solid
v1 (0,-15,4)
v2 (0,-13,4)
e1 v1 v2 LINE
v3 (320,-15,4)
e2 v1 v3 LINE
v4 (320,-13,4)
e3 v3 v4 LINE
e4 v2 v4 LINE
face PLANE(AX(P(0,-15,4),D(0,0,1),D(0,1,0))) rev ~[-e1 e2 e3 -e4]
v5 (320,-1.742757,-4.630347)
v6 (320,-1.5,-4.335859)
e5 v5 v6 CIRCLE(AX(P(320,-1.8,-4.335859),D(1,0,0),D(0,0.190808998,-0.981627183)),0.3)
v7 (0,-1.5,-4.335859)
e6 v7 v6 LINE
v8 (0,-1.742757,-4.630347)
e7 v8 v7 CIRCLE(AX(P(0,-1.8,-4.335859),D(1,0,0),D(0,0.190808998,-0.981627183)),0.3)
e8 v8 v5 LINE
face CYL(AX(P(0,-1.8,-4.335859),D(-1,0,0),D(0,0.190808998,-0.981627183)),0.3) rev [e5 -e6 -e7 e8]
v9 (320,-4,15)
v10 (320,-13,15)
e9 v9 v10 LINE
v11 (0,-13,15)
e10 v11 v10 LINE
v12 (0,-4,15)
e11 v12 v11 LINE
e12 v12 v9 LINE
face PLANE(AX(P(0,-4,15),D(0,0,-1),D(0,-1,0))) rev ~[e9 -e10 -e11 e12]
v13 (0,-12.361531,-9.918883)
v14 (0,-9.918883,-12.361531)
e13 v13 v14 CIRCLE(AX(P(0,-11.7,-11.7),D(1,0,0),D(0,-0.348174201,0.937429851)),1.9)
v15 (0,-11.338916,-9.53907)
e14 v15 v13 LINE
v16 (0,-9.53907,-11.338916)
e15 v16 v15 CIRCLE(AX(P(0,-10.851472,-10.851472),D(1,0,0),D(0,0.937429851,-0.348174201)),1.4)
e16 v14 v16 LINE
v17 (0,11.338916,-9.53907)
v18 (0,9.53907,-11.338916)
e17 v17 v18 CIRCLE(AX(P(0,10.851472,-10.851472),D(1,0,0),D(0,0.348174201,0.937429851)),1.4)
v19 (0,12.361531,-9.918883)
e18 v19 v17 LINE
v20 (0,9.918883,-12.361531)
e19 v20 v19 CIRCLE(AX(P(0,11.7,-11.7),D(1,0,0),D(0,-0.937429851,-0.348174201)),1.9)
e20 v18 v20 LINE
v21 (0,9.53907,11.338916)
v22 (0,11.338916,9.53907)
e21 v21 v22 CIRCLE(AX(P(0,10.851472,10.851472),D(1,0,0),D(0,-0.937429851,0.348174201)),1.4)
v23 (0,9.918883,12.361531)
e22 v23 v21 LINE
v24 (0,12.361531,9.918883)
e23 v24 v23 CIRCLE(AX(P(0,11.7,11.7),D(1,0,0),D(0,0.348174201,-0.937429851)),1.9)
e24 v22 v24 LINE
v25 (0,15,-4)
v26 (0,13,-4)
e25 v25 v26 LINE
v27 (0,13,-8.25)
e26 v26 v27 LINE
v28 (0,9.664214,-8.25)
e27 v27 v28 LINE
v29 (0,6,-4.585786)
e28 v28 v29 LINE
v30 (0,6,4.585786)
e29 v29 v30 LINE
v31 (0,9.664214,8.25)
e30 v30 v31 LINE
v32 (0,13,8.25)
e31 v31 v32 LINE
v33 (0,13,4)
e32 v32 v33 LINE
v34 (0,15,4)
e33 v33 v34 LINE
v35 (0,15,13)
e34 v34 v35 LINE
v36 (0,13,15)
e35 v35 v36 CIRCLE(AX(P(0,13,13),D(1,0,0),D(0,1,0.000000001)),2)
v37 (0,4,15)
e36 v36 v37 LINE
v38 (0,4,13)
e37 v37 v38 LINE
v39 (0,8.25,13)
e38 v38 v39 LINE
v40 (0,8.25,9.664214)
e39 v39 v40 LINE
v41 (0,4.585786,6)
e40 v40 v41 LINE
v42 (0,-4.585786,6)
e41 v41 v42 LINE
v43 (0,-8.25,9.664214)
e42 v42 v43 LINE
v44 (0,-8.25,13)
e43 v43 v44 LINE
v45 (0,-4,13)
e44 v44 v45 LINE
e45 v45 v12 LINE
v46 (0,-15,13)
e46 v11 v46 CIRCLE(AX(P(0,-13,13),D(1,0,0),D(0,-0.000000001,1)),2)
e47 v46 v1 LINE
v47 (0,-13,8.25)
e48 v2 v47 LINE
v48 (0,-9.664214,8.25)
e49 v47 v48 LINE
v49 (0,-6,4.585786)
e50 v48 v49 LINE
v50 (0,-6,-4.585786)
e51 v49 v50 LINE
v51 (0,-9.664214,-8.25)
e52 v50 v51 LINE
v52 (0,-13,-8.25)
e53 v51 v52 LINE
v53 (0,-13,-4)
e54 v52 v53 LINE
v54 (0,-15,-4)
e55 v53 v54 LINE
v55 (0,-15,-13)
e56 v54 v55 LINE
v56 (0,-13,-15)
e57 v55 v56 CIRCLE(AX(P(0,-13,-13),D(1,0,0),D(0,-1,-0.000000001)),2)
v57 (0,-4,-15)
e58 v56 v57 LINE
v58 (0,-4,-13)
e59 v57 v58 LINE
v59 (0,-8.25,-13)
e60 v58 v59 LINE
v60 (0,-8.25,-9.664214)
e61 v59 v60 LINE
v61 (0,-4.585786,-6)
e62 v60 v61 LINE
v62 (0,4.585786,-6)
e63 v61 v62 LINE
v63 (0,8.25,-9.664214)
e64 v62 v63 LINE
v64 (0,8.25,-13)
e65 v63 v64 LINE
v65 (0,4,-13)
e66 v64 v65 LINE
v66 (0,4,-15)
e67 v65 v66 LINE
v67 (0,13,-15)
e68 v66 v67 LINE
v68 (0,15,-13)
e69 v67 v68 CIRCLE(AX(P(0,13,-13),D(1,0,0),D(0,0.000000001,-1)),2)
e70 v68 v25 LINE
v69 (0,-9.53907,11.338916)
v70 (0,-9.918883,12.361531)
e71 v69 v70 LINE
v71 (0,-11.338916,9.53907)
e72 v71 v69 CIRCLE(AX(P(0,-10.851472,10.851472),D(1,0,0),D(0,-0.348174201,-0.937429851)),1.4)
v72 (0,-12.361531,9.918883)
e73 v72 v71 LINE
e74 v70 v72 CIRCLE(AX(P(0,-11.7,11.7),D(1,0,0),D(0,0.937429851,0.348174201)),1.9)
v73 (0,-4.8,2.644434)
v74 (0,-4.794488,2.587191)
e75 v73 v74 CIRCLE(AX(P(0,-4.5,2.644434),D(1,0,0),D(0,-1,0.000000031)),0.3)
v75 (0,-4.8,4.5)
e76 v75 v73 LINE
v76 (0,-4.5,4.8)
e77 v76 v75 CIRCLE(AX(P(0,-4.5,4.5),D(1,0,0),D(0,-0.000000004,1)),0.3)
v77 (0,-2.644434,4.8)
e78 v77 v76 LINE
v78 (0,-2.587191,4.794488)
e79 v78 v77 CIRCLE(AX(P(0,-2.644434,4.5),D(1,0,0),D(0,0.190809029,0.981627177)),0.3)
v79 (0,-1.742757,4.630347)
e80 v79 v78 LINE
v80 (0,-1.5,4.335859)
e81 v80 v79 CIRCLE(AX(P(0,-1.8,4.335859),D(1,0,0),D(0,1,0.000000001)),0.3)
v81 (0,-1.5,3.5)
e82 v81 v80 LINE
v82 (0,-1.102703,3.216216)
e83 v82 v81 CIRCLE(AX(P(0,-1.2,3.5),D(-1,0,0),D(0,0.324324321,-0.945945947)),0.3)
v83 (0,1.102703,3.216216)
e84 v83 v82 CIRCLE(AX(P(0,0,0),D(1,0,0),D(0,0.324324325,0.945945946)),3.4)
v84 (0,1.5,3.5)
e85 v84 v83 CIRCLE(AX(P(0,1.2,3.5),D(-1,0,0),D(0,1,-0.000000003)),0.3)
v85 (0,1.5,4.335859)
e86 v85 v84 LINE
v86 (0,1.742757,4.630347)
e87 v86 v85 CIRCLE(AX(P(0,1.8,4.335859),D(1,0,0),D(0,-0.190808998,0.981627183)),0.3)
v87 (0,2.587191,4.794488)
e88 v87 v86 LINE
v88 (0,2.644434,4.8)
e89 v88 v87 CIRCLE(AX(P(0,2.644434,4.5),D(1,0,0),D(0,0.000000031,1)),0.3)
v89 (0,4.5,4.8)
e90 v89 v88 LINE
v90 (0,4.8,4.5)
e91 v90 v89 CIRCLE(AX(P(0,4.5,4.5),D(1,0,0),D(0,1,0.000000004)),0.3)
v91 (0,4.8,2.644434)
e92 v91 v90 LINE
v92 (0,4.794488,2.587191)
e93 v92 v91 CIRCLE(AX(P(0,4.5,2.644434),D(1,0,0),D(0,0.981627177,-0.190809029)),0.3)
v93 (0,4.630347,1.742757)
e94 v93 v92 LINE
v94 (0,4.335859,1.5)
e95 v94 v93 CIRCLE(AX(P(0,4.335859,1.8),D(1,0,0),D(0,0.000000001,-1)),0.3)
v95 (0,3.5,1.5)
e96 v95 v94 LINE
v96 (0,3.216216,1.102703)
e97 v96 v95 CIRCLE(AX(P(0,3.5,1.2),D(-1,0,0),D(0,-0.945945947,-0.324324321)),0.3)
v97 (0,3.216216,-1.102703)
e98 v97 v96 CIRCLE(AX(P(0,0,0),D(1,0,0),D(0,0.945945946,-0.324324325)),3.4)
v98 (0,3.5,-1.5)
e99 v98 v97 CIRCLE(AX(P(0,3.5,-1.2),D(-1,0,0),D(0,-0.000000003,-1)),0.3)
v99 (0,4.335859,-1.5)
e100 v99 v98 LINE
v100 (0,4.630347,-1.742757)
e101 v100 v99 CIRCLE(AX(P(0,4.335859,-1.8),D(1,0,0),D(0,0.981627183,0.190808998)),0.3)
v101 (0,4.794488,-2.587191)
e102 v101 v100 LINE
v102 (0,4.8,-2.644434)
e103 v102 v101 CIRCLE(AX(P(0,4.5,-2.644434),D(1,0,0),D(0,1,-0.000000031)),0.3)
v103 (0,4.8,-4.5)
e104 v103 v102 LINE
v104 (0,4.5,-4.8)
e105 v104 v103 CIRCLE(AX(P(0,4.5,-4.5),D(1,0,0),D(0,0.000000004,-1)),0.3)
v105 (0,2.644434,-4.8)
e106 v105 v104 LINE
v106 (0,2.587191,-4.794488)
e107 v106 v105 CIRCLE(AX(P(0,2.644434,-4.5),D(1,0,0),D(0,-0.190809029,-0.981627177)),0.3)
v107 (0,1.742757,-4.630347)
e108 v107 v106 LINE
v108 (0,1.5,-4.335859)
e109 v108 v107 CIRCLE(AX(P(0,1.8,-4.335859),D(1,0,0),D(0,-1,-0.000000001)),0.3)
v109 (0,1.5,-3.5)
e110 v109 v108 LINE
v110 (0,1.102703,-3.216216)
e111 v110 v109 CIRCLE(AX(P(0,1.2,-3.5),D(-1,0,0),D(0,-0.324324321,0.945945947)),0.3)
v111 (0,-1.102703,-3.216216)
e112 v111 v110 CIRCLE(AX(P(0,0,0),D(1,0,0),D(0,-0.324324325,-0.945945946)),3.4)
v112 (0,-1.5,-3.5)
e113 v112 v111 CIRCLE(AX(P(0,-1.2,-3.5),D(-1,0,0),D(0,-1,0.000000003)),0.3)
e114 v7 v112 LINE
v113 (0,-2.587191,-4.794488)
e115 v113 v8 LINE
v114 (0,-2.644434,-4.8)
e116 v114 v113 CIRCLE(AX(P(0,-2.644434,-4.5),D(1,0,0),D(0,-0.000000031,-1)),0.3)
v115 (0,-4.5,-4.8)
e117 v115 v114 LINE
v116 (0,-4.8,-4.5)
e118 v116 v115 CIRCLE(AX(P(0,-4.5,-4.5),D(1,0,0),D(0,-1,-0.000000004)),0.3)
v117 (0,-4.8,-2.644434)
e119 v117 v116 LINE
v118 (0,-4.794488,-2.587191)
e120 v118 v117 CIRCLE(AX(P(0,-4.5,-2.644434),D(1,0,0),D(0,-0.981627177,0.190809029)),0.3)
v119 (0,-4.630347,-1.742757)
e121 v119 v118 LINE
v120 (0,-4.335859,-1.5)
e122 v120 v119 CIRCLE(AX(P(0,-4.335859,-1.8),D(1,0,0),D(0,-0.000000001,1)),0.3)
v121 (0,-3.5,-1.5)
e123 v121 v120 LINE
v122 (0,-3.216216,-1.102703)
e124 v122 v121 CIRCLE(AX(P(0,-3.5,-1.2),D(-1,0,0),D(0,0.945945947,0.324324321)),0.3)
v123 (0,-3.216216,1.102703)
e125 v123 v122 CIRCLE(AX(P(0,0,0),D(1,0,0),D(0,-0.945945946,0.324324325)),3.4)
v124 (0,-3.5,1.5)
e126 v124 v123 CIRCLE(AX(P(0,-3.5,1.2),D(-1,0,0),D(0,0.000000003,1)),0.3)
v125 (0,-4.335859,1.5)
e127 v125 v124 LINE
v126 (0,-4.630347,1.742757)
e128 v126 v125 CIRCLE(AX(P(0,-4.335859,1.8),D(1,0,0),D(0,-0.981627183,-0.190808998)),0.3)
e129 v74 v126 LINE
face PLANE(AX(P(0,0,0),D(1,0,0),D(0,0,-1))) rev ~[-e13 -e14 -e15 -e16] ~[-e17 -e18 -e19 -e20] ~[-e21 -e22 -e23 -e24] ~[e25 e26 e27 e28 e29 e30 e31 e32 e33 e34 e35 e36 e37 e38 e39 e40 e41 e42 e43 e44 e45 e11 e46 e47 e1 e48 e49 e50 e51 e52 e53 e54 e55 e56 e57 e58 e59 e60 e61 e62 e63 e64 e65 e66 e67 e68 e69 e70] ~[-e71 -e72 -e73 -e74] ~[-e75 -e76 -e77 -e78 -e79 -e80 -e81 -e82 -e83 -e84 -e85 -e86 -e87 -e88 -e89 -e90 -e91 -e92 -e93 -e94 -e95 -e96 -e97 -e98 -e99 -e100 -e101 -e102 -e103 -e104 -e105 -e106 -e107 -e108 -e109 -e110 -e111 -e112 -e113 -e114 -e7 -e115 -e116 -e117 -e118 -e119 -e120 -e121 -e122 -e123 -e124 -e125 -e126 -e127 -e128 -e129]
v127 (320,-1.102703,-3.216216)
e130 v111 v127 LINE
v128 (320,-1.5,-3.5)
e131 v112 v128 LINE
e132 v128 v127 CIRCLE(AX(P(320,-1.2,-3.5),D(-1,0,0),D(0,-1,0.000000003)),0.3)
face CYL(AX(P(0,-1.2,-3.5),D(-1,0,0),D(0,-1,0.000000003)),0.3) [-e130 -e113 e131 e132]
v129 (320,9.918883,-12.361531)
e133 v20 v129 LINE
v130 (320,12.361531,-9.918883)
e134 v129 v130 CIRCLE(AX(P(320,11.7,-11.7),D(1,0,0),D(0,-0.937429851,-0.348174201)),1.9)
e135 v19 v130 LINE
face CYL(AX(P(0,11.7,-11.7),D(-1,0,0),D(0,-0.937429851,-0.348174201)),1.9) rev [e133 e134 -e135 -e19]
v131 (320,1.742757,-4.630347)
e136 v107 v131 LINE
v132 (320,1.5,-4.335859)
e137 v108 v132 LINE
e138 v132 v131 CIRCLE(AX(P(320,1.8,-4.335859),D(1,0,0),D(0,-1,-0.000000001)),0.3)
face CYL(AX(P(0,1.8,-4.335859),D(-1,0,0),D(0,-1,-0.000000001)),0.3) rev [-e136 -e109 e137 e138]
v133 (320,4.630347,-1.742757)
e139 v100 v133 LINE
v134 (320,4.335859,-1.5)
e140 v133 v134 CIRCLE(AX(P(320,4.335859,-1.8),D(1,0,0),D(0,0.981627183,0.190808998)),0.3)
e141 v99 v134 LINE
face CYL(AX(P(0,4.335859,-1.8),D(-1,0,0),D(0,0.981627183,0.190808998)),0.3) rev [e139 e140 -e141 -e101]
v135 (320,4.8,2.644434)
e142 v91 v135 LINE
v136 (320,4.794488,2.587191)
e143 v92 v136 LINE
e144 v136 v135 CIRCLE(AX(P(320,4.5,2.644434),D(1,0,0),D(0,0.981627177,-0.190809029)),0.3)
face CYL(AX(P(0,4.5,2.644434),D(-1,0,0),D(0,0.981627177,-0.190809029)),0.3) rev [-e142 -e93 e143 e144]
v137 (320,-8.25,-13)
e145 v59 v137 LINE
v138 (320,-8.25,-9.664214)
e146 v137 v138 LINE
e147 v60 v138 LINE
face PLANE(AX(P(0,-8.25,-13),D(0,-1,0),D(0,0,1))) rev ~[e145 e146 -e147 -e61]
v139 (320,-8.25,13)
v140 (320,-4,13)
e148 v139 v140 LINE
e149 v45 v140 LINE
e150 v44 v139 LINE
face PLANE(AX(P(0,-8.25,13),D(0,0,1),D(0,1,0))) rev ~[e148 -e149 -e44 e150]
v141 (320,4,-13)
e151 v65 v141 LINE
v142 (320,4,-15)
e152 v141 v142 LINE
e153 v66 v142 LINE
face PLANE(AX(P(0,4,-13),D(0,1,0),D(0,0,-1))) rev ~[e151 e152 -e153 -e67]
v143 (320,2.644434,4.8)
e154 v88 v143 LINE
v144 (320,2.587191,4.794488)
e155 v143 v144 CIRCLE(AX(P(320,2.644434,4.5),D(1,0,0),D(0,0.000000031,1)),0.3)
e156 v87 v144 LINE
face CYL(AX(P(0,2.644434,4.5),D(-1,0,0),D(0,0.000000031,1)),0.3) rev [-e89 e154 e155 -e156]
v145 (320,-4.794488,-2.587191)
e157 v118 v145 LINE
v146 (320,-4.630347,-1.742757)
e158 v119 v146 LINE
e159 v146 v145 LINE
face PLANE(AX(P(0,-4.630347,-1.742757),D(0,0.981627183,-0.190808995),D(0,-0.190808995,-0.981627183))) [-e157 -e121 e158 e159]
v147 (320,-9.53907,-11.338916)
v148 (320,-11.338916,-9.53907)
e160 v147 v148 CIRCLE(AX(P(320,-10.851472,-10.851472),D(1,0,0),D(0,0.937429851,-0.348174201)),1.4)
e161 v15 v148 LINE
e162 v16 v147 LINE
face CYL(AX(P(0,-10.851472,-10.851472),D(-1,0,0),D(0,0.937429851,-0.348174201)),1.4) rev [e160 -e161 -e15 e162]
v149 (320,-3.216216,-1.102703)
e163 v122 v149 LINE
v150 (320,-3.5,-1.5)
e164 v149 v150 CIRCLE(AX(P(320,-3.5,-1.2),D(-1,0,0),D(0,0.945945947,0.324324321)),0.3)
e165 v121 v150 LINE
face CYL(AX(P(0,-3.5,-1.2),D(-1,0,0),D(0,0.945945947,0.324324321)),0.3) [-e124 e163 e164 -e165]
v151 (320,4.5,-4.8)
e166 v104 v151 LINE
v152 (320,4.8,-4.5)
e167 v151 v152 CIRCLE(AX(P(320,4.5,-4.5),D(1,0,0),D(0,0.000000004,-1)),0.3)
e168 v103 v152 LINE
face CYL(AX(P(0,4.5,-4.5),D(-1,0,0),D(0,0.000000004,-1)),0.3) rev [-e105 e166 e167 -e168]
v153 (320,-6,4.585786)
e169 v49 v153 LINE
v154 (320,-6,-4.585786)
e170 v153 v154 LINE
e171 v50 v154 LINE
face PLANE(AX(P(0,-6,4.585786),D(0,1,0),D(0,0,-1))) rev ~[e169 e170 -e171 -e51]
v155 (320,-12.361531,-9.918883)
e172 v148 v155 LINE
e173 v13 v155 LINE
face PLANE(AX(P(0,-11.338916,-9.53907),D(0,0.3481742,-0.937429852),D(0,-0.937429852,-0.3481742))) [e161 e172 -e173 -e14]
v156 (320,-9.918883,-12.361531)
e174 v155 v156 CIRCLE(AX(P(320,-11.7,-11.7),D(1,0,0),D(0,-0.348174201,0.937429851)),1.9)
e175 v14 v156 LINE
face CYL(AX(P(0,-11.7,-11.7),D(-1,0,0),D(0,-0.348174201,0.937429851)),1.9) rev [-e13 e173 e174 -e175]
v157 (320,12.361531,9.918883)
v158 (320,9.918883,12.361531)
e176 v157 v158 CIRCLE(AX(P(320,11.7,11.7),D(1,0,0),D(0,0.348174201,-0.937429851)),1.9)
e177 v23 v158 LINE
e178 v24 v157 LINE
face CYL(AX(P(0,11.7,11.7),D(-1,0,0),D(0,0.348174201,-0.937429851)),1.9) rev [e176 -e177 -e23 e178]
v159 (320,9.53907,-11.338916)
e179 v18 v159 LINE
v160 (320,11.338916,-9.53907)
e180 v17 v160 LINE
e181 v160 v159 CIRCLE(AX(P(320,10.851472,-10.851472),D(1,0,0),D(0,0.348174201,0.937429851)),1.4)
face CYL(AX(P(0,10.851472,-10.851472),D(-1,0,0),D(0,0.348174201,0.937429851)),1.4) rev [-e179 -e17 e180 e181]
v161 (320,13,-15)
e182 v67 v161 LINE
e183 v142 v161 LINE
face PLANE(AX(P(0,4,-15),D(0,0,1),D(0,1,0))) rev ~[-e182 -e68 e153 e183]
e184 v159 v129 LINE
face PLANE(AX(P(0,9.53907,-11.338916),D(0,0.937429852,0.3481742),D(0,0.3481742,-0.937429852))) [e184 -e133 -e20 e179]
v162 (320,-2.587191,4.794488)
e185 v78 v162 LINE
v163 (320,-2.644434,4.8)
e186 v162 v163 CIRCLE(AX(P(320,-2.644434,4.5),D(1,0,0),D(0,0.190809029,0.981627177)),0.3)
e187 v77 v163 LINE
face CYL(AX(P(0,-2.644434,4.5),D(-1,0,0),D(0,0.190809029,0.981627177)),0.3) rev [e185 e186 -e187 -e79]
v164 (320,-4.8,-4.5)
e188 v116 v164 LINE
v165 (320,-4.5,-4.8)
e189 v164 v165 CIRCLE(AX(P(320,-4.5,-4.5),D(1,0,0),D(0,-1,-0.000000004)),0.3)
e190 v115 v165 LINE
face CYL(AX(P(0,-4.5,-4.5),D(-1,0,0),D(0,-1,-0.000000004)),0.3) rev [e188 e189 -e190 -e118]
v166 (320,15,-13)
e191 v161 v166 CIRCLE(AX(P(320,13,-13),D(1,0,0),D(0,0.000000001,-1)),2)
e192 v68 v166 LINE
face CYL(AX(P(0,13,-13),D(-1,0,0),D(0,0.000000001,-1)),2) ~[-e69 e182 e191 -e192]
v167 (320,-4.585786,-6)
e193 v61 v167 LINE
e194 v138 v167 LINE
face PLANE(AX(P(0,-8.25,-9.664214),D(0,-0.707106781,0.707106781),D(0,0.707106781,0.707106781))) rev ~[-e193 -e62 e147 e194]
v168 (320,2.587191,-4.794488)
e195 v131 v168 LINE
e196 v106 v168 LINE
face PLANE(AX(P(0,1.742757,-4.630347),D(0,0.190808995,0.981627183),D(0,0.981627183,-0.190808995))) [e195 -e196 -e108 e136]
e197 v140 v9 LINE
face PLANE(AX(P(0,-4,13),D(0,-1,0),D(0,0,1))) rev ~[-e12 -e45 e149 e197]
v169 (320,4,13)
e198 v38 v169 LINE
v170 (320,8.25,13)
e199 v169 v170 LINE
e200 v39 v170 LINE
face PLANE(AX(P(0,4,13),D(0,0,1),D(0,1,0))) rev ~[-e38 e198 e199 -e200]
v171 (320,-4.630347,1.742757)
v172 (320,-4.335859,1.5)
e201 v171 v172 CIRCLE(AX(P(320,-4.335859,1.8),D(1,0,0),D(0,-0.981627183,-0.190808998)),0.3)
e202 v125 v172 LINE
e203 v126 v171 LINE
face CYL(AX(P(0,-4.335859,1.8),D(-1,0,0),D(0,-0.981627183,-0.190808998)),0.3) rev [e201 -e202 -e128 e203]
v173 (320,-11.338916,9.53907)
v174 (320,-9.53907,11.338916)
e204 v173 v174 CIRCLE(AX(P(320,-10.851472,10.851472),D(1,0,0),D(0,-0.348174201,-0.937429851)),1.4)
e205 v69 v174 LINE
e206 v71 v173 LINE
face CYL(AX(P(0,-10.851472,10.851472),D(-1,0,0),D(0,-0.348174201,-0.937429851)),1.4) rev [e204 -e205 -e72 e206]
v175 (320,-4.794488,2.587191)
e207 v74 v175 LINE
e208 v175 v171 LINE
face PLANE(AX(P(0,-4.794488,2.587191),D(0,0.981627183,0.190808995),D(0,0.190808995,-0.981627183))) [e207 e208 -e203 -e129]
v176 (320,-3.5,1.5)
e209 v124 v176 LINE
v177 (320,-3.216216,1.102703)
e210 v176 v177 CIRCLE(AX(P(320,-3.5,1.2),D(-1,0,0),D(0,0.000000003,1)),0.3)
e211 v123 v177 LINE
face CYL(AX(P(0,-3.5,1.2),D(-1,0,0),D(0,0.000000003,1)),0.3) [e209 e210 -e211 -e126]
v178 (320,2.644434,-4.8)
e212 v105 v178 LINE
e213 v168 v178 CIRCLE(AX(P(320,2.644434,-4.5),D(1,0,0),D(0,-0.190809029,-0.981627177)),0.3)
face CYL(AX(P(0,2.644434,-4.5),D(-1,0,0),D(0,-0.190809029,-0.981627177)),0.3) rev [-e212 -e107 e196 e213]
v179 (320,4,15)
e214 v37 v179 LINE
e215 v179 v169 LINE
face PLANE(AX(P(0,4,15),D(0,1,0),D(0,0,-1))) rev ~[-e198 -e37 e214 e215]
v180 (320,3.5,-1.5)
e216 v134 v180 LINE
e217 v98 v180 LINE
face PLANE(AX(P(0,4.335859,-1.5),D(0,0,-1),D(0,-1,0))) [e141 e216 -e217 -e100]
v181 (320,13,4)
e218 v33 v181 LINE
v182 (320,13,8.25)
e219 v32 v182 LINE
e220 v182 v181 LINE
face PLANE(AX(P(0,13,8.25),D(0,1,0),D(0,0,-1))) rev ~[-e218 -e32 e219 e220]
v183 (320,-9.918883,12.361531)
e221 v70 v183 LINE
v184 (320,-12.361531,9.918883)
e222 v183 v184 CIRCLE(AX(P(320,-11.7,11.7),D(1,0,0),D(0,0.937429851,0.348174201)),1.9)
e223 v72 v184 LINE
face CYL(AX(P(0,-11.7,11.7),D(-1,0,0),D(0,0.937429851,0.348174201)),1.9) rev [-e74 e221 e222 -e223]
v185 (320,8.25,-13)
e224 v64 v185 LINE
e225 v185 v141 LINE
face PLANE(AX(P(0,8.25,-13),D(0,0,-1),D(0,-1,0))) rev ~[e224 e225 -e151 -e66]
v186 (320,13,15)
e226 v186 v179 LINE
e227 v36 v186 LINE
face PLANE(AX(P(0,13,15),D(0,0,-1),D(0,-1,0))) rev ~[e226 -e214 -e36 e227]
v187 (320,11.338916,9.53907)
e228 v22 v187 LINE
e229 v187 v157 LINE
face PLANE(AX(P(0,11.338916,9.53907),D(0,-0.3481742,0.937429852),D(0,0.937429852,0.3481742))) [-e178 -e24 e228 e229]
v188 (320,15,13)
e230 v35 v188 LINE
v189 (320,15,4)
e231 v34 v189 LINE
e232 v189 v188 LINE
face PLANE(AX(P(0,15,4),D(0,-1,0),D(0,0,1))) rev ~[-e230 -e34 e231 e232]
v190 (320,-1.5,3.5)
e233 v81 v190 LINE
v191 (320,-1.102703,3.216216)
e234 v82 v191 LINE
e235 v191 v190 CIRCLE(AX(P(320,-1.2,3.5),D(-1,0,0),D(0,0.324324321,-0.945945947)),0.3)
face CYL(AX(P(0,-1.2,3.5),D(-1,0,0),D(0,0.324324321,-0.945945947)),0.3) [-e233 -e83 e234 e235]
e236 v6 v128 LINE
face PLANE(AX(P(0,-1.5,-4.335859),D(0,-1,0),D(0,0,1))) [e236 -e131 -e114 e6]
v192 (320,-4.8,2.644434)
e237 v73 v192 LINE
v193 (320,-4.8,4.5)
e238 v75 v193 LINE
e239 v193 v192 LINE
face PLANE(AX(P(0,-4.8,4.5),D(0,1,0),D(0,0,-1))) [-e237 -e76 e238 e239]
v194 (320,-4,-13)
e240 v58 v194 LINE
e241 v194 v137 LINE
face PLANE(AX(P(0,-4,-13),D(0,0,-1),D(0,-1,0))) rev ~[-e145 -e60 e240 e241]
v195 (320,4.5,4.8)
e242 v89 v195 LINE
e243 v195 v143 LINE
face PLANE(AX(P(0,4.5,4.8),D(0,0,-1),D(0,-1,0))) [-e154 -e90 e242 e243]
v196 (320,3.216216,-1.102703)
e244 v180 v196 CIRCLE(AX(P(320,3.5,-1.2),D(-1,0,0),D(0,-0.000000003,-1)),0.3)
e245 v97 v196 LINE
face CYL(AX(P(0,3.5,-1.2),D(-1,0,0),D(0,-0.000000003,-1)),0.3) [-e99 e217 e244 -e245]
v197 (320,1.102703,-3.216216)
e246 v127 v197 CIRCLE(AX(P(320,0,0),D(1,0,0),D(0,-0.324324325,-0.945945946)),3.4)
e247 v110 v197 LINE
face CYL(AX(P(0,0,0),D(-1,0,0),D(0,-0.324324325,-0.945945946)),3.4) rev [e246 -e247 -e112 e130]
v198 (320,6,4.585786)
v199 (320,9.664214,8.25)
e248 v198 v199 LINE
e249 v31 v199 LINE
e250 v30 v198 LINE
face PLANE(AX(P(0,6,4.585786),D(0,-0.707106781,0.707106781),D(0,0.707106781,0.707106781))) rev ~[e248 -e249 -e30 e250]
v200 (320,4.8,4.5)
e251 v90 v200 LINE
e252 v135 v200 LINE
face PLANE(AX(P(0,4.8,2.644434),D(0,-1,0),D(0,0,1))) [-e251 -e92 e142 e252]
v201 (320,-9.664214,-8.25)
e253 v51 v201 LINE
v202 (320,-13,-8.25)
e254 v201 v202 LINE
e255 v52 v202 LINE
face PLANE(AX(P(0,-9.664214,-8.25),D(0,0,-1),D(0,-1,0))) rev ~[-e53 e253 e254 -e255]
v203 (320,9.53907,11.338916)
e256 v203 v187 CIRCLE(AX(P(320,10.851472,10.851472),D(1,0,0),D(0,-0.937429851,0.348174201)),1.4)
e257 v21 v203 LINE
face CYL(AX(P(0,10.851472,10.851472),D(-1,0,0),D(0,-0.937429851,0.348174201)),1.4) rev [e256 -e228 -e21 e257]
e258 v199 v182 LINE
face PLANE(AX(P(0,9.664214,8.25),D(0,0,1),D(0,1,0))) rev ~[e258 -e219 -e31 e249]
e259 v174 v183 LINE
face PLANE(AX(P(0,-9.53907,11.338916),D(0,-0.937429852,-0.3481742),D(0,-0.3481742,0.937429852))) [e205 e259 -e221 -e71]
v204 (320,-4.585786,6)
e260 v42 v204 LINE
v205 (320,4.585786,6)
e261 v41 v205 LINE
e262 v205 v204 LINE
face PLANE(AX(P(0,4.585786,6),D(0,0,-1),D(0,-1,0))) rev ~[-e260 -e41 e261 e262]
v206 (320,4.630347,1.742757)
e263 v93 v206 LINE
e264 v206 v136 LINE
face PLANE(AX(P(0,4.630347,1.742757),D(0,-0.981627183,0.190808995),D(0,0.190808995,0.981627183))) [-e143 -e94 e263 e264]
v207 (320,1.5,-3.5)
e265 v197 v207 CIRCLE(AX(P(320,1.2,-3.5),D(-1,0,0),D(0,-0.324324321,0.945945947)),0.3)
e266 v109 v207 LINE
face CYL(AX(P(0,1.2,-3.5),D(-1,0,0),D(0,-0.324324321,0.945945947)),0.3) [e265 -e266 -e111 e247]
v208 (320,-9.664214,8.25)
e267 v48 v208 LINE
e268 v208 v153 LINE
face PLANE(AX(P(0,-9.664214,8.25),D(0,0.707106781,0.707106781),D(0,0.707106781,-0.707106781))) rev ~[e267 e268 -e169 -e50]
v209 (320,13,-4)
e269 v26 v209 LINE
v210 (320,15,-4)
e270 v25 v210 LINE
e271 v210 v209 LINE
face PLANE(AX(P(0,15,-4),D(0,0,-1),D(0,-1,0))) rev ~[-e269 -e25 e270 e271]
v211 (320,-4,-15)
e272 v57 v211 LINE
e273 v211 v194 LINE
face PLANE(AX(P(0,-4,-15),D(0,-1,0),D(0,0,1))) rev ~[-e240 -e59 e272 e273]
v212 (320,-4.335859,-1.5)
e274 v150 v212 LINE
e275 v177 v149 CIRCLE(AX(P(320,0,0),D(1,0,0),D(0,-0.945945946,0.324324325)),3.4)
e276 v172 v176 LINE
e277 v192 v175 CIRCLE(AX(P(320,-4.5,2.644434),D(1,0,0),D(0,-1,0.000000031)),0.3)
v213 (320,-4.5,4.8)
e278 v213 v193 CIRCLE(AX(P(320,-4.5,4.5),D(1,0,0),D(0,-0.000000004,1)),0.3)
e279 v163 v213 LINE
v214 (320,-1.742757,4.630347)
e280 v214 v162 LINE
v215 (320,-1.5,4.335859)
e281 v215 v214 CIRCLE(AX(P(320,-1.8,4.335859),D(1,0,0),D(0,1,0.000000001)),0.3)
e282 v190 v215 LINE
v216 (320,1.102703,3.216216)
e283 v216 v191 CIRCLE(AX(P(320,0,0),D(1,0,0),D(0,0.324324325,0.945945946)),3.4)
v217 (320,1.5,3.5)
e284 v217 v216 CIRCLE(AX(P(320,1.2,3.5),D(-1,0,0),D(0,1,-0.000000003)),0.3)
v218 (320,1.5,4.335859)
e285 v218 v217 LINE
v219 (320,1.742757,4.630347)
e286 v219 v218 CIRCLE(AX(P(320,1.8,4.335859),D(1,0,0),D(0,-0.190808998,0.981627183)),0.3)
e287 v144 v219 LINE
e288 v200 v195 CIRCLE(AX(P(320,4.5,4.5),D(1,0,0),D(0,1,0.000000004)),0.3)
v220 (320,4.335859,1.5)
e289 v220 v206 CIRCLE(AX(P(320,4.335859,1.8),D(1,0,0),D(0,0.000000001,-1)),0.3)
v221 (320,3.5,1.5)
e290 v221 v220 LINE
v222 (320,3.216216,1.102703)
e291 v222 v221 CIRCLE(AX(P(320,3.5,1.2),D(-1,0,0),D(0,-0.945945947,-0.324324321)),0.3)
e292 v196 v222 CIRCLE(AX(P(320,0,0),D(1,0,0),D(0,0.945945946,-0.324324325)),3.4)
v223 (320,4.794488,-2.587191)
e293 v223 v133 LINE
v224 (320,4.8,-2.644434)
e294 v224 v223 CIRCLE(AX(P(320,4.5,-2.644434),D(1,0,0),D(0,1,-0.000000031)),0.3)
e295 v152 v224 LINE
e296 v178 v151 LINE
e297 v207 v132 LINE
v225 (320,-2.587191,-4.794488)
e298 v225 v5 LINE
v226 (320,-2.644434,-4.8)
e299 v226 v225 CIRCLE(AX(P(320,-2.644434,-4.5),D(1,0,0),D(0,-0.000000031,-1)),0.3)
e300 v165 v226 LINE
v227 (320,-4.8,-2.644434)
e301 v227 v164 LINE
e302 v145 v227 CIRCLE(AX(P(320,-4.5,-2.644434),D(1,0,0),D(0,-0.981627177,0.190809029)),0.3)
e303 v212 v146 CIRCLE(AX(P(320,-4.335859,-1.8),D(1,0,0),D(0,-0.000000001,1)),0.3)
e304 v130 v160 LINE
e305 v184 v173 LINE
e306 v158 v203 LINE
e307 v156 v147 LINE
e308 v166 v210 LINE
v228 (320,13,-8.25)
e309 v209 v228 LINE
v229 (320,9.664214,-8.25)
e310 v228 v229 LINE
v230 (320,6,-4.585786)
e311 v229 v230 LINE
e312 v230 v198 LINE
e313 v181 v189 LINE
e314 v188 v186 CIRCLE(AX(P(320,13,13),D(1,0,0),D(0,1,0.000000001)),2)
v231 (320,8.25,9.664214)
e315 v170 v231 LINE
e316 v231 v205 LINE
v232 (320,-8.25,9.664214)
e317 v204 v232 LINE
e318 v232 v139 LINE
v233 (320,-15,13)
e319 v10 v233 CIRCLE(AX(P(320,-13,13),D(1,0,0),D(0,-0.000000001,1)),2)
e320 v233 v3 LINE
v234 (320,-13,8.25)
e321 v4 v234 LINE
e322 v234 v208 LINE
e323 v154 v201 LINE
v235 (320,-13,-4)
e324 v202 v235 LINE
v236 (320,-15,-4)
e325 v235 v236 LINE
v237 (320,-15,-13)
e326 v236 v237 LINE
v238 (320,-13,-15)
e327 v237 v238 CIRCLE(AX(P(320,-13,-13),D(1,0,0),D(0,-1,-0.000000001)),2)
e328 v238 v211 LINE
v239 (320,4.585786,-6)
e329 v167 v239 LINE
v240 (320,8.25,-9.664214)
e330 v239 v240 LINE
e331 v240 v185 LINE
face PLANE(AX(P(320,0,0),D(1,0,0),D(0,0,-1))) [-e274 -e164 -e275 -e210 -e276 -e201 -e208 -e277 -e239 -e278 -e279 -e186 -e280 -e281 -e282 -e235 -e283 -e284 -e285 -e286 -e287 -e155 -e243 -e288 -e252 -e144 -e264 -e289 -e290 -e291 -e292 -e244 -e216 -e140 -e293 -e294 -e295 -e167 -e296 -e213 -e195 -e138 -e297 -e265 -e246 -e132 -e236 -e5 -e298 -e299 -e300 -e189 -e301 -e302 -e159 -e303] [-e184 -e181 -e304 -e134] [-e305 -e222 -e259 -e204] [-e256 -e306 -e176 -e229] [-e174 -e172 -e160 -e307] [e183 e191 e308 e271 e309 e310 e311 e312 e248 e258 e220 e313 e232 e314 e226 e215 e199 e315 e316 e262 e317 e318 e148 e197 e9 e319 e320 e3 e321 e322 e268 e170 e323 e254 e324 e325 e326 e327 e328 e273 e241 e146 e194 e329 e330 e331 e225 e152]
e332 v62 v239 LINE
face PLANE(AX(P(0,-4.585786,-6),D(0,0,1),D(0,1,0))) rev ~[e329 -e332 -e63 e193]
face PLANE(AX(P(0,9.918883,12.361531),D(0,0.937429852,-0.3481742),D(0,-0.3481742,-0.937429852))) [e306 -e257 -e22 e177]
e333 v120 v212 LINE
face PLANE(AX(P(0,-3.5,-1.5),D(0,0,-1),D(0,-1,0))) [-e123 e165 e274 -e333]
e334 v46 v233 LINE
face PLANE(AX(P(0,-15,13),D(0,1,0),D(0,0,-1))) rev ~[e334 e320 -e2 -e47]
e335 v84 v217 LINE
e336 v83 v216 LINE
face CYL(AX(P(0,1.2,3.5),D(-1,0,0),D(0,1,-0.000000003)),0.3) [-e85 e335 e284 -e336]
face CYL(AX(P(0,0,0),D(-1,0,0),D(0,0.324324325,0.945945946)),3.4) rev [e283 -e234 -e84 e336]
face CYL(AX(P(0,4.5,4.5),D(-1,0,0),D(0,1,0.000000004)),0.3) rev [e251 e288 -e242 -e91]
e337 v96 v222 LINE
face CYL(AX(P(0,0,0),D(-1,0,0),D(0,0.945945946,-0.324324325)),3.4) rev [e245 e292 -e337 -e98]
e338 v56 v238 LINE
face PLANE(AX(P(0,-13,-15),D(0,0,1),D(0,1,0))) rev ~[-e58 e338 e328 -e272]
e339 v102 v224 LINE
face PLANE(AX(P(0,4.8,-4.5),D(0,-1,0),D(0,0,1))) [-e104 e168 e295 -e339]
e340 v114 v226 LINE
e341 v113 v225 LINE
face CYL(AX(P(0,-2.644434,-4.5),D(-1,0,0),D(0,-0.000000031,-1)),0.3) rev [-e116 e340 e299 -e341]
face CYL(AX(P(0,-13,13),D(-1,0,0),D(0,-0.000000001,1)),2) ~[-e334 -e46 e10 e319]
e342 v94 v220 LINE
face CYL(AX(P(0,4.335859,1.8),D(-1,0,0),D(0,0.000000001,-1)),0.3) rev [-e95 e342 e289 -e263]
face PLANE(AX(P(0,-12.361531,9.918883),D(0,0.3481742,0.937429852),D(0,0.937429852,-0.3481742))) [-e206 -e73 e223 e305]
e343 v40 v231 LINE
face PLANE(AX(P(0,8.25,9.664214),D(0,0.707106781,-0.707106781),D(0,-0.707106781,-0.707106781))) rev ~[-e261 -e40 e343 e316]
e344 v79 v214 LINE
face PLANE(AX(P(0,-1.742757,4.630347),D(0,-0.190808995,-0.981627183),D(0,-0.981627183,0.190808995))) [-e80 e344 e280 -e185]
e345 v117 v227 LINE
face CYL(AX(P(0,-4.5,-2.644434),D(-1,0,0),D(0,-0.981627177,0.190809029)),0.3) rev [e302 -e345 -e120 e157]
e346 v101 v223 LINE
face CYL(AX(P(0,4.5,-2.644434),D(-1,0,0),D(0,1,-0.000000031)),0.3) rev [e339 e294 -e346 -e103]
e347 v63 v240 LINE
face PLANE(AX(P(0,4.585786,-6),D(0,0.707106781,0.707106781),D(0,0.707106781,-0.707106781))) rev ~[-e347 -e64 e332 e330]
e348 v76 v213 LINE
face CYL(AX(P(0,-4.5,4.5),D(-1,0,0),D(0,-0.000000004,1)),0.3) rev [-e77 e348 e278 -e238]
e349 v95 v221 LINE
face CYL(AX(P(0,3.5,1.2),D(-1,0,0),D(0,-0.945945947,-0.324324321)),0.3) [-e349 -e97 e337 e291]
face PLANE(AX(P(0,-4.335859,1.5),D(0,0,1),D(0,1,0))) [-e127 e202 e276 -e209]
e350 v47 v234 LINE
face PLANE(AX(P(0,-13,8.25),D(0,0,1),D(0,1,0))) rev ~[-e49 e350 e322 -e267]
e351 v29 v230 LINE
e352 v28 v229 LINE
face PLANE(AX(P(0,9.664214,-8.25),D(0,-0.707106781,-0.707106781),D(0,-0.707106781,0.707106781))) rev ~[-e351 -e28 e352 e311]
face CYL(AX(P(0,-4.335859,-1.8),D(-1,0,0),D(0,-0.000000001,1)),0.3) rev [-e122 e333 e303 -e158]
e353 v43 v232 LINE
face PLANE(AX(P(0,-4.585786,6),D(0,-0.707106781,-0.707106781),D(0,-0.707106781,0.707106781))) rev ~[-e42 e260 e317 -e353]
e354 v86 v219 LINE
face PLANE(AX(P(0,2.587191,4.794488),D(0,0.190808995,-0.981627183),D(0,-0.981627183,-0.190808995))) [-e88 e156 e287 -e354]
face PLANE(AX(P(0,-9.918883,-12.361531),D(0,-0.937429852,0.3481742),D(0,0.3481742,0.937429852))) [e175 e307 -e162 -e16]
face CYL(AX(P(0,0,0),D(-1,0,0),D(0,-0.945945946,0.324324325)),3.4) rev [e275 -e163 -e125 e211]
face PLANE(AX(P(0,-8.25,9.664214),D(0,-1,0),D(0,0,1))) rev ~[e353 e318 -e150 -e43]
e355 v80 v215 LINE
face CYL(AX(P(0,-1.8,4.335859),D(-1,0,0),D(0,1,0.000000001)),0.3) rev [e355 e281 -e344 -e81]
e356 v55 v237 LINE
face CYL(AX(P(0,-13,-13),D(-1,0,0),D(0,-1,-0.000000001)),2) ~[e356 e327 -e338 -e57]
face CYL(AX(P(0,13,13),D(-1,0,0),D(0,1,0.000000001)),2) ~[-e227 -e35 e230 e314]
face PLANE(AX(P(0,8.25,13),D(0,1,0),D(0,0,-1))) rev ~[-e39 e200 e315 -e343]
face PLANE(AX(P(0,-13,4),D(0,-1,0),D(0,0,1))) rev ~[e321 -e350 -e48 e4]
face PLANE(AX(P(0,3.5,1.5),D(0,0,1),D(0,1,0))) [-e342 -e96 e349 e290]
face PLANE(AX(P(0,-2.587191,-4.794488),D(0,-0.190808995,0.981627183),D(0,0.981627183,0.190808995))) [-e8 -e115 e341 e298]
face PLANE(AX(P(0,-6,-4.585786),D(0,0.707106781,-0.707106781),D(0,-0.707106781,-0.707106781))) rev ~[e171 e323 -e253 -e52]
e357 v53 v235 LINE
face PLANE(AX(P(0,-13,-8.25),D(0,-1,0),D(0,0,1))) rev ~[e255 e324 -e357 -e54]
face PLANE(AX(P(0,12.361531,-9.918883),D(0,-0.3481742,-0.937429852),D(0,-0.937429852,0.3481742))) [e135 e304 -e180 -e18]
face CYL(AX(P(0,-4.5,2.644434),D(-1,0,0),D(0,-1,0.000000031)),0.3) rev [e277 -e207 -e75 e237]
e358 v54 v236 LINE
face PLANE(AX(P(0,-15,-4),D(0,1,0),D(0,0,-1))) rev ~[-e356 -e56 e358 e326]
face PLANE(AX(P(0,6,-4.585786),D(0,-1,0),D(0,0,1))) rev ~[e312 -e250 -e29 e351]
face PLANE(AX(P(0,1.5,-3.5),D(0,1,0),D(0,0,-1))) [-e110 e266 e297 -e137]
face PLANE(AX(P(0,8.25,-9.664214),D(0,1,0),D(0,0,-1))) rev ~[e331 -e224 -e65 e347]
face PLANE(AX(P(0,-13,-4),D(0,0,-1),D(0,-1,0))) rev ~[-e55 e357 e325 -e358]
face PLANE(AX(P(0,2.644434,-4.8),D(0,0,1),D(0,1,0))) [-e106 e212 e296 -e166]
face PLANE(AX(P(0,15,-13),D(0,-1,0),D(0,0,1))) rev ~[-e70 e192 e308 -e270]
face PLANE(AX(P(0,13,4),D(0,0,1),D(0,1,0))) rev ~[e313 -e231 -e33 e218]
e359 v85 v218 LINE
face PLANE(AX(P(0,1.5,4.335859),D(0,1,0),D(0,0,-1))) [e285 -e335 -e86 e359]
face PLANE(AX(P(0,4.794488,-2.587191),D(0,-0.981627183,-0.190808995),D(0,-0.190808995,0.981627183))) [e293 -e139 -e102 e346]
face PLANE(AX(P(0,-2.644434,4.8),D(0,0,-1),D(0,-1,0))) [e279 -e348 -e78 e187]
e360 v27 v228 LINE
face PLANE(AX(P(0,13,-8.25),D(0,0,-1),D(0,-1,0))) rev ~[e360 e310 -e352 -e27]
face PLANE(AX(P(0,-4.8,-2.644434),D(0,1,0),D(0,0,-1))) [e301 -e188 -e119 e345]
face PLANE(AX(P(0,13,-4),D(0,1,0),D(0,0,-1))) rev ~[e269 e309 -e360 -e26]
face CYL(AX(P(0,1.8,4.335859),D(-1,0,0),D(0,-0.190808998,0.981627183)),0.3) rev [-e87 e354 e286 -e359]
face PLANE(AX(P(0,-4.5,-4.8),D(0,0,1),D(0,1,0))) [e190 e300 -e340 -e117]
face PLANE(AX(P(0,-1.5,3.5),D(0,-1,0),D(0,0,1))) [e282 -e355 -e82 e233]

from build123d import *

# Parameters (mm, degrees)
BOSS_EXTRUDE1_DEPTH = 320


with BuildPart() as part:
    # Sketch1 → Boss-Extrude1 (new body)
    with BuildSketch(Plane(origin=(0, 0, 0), x_dir=(0, 0, -1), z_dir=(1, 0, 0))):
        with BuildLine():
            Line((-15, 13), (-15, 4))
            Line((-15, 4), (-13, 4))
            Line((-13, 4), (-13, 8.25))
            Line((-13, 8.25), (-9.664213562, 8.25))
            Line((-9.664213562, 8.25), (-6, 4.585786438))
            Line((-6, 4.585786438), (-6, -4.585786438))
            Line((-6, -4.585786438), (-9.664213562, -8.25))
            Line((-9.664213562, -8.25), (-13, -8.25))
            Line((-13, -8.25), (-13, -4))
            Line((-13, -4), (-15, -4))
            Line((-15, -4), (-15, -13))
            ThreePointArc((-15, -13), (-14.414213562, -14.414213562), (-13, -15))
            Line((-13, -15), (-4, -15))
            Line((-4, -15), (-4, -13))
            Line((-4, -13), (-8.25, -13))
            Line((-8.25, -13), (-8.25, -9.664213562))
            Line((-8.25, -9.664213562), (-4.585786438, -6))
            Line((-4.585786438, -6), (4.585786438, -6))
            Line((4.585786438, -6), (8.25, -9.664213562))
            Line((8.25, -9.664213562), (8.25, -13))
            Line((8.25, -13), (4, -13))
            Line((4, -13), (4, -15))
            Line((4, -15), (13, -15))
            ThreePointArc((13, -15), (14.414213562, -14.414213562), (15, -13))
            Line((15, -13), (15, -4))
            Line((15, -4), (13, -4))
            Line((13, -4), (13, -8.25))
            Line((13, -8.25), (9.664213562, -8.25))
            Line((9.664213562, -8.25), (6, -4.585786438))
            Line((6, -4.585786438), (6, 4.585786438))
            Line((6, 4.585786438), (9.664213562, 8.25))
            Line((9.664213562, 8.25), (13, 8.25))
            Line((13, 8.25), (13, 4))
            Line((13, 4), (15, 4))
            Line((15, 4), (15, 13))
            ThreePointArc((15, 13), (14.414213562, 14.414213562), (13, 15))
            Line((13, 15), (4, 15))
            Line((4, 15), (4, 13))
            Line((4, 13), (8.25, 13))
            Line((8.25, 13), (8.25, 9.664213562))
            Line((8.25, 9.664213562), (4.585786438, 6))
            Line((4.585786438, 6), (-4.585786438, 6))
            Line((-4.585786438, 6), (-8.25, 9.664213562))
            Line((-8.25, 9.664213562), (-8.25, 13))
            Line((-8.25, 13), (-4, 13))
            Line((-4, 13), (-4, 15))
            Line((-4, 15), (-13, 15))
            ThreePointArc((-13, 15), (-14.414213562, 14.414213562), (-15, 13))
        make_face()
        with BuildLine():
            Line((-9.539070071, 11.338915743), (-9.918883282, 12.361530981))
            ThreePointArc((-9.918883282, 12.361530981), (-13.043502884, 13.043502884), (-12.361530981, 9.918883282))
            Line((-12.361530981, 9.918883282), (-11.338915743, 9.539070071))
            ThreePointArc((-11.338915743, 9.539070071), (-9.861522369, 9.861522369), (-9.539070071, 11.338915743))
        make_face(mode=Mode.SUBTRACT)
        with BuildLine():
            Line((9.918883282, 12.361530981), (9.539070071, 11.338915743))
            ThreePointArc((9.539070071, 11.338915743), (9.861522369, 9.861522369), (11.338915743, 9.539070071))
            Line((11.338915743, 9.539070071), (12.361530981, 9.918883282))
            ThreePointArc((12.361530981, 9.918883282), (13.043502884, 13.043502884), (9.918883282, 12.361530981))
        make_face(mode=Mode.SUBTRACT)
        with BuildLine():
            Line((12.361530981, -9.918883282), (11.338915743, -9.539070071))
            ThreePointArc((11.338915743, -9.539070071), (9.861522369, -9.861522369), (9.539070071, -11.338915743))
            Line((9.539070071, -11.338915743), (9.918883282, -12.361530981))
            ThreePointArc((9.918883282, -12.361530981), (13.043502884, -13.043502884), (12.361530981, -9.918883282))
        make_face(mode=Mode.SUBTRACT)
        with BuildLine():
            Line((-11.338915743, -9.539070071), (-12.361530981, -9.918883282))
            ThreePointArc((-12.361530981, -9.918883282), (-13.043502884, -13.043502884), (-9.918883282, -12.361530981))
            Line((-9.918883282, -12.361530981), (-9.539070071, -11.338915743))
            ThreePointArc((-9.539070071, -11.338915743), (-9.861522369, -9.861522369), (-11.338915743, -9.539070071))
        make_face(mode=Mode.SUBTRACT)
        with BuildLine():
            Line((-4.8, -2.644433572), (-4.8, -4.5))
            ThreePointArc((-4.8, -4.5), (-4.712132034, -4.712132034), (-4.5, -4.8))
            Line((-4.5, -4.8), (-2.644433572, -4.8))
            ThreePointArc((-2.644433572, -4.8), (-2.615679847, -4.79861886), (-2.587190874, -4.794488155))
            Line((-2.587190874, -4.794488155), (-1.742757301, -4.630346896))
            ThreePointArc((-1.742757301, -4.630346896), (-1.568512625, -4.526682207), (-1.5, -4.335858741))
            Line((-1.5, -4.335858741), (-1.5, -3.5))
            ThreePointArc((-1.5, -3.5), (-1.374371458, -3.255879959), (-1.102702703, -3.216216216))
            ThreePointArc((-1.102702703, -3.216216216), (0, -3.4), (1.102702703, -3.216216216))
            ThreePointArc((1.102702703, -3.216216216), (1.374371458, -3.255879959), (1.5, -3.5))
            Line((1.5, -3.5), (1.5, -4.335858741))
            ThreePointArc((1.5, -4.335858741), (1.568512625, -4.526682207), (1.742757301, -4.630346896))
            Line((1.742757301, -4.630346896), (2.587190874, -4.794488155))
            ThreePointArc((2.587190874, -4.794488155), (2.615679847, -4.79861886), (2.644433572, -4.8))
            Line((2.644433572, -4.8), (4.5, -4.8))
            ThreePointArc((4.5, -4.8), (4.712132034, -4.712132034), (4.8, -4.5))
            Line((4.8, -4.5), (4.8, -2.644433572))
            ThreePointArc((4.8, -2.644433572), (4.79861886, -2.615679847), (4.794488155, -2.587190874))
            Line((4.794488155, -2.587190874), (4.630346896, -1.742757301))
            ThreePointArc((4.630346896, -1.742757301), (4.526682207, -1.568512625), (4.335858741, -1.5))
            Line((4.335858741, -1.5), (3.5, -1.5))
            ThreePointArc((3.5, -1.5), (3.255879959, -1.374371458), (3.216216216, -1.102702703))
            ThreePointArc((3.216216216, -1.102702703), (3.4, 0), (3.216216216, 1.102702703))
            ThreePointArc((3.216216216, 1.102702703), (3.255879959, 1.374371458), (3.5, 1.5))
            Line((3.5, 1.5), (4.335858741, 1.5))
            ThreePointArc((4.335858741, 1.5), (4.526682207, 1.568512625), (4.630346896, 1.742757301))
            Line((4.630346896, 1.742757301), (4.794488155, 2.587190874))
            ThreePointArc((4.794488155, 2.587190874), (4.79861886, 2.615679847), (4.8, 2.644433572))
            Line((4.8, 2.644433572), (4.8, 4.5))
            ThreePointArc((4.8, 4.5), (4.712132034, 4.712132034), (4.5, 4.8))
            Line((4.5, 4.8), (2.644433572, 4.8))
            ThreePointArc((2.644433572, 4.8), (2.615679847, 4.79861886), (2.587190874, 4.794488155))
            Line((2.587190874, 4.794488155), (1.742757301, 4.630346896))
            ThreePointArc((1.742757301, 4.630346896), (1.568512625, 4.526682207), (1.5, 4.335858741))
            Line((1.5, 4.335858741), (1.5, 3.5))
            ThreePointArc((1.5, 3.5), (1.374371458, 3.255879959), (1.102702703, 3.216216216))
            ThreePointArc((1.102702703, 3.216216216), (0, 3.4), (-1.102702703, 3.216216216))
            ThreePointArc((-1.102702703, 3.216216216), (-1.374371458, 3.255879959), (-1.5, 3.5))
            Line((-1.5, 3.5), (-1.5, 4.335858741))
            ThreePointArc((-1.5, 4.335858741), (-1.568512625, 4.526682207), (-1.742757301, 4.630346896))
            Line((-1.742757301, 4.630346896), (-2.587190874, 4.794488155))
            ThreePointArc((-2.587190874, 4.794488155), (-2.615679847, 4.79861886), (-2.644433572, 4.8))
            Line((-2.644433572, 4.8), (-4.5, 4.8))
            ThreePointArc((-4.5, 4.8), (-4.712132034, 4.712132034), (-4.8, 4.5))
            Line((-4.8, 4.5), (-4.8, 2.644433572))
            ThreePointArc((-4.8, 2.644433572), (-4.79861886, 2.615679847), (-4.794488155, 2.587190874))
            Line((-4.794488155, 2.587190874), (-4.630346896, 1.742757301))
            ThreePointArc((-4.630346896, 1.742757301), (-4.526682207, 1.568512625), (-4.335858741, 1.5))
            Line((-4.335858741, 1.5), (-3.5, 1.5))
            ThreePointArc((-3.5, 1.5), (-3.255879959, 1.374371458), (-3.216216216, 1.102702703))
            ThreePointArc((-3.216216216, 1.102702703), (-3.4, 0), (-3.216216216, -1.102702703))
            ThreePointArc((-3.216216216, -1.102702703), (-3.255879959, -1.374371458), (-3.5, -1.5))
            Line((-3.5, -1.5), (-4.335858741, -1.5))
            ThreePointArc((-4.335858741, -1.5), (-4.526682207, -1.568512625), (-4.630346896, -1.742757301))
            Line((-4.630346896, -1.742757301), (-4.794488155, -2.587190874))
            ThreePointArc((-4.794488155, -2.587190874), (-4.79861886, -2.615679847), (-4.8, -2.644433572))
        make_face(mode=Mode.SUBTRACT)
    extrude(amount=BOSS_EXTRUDE1_DEPTH)


solid = part.part
